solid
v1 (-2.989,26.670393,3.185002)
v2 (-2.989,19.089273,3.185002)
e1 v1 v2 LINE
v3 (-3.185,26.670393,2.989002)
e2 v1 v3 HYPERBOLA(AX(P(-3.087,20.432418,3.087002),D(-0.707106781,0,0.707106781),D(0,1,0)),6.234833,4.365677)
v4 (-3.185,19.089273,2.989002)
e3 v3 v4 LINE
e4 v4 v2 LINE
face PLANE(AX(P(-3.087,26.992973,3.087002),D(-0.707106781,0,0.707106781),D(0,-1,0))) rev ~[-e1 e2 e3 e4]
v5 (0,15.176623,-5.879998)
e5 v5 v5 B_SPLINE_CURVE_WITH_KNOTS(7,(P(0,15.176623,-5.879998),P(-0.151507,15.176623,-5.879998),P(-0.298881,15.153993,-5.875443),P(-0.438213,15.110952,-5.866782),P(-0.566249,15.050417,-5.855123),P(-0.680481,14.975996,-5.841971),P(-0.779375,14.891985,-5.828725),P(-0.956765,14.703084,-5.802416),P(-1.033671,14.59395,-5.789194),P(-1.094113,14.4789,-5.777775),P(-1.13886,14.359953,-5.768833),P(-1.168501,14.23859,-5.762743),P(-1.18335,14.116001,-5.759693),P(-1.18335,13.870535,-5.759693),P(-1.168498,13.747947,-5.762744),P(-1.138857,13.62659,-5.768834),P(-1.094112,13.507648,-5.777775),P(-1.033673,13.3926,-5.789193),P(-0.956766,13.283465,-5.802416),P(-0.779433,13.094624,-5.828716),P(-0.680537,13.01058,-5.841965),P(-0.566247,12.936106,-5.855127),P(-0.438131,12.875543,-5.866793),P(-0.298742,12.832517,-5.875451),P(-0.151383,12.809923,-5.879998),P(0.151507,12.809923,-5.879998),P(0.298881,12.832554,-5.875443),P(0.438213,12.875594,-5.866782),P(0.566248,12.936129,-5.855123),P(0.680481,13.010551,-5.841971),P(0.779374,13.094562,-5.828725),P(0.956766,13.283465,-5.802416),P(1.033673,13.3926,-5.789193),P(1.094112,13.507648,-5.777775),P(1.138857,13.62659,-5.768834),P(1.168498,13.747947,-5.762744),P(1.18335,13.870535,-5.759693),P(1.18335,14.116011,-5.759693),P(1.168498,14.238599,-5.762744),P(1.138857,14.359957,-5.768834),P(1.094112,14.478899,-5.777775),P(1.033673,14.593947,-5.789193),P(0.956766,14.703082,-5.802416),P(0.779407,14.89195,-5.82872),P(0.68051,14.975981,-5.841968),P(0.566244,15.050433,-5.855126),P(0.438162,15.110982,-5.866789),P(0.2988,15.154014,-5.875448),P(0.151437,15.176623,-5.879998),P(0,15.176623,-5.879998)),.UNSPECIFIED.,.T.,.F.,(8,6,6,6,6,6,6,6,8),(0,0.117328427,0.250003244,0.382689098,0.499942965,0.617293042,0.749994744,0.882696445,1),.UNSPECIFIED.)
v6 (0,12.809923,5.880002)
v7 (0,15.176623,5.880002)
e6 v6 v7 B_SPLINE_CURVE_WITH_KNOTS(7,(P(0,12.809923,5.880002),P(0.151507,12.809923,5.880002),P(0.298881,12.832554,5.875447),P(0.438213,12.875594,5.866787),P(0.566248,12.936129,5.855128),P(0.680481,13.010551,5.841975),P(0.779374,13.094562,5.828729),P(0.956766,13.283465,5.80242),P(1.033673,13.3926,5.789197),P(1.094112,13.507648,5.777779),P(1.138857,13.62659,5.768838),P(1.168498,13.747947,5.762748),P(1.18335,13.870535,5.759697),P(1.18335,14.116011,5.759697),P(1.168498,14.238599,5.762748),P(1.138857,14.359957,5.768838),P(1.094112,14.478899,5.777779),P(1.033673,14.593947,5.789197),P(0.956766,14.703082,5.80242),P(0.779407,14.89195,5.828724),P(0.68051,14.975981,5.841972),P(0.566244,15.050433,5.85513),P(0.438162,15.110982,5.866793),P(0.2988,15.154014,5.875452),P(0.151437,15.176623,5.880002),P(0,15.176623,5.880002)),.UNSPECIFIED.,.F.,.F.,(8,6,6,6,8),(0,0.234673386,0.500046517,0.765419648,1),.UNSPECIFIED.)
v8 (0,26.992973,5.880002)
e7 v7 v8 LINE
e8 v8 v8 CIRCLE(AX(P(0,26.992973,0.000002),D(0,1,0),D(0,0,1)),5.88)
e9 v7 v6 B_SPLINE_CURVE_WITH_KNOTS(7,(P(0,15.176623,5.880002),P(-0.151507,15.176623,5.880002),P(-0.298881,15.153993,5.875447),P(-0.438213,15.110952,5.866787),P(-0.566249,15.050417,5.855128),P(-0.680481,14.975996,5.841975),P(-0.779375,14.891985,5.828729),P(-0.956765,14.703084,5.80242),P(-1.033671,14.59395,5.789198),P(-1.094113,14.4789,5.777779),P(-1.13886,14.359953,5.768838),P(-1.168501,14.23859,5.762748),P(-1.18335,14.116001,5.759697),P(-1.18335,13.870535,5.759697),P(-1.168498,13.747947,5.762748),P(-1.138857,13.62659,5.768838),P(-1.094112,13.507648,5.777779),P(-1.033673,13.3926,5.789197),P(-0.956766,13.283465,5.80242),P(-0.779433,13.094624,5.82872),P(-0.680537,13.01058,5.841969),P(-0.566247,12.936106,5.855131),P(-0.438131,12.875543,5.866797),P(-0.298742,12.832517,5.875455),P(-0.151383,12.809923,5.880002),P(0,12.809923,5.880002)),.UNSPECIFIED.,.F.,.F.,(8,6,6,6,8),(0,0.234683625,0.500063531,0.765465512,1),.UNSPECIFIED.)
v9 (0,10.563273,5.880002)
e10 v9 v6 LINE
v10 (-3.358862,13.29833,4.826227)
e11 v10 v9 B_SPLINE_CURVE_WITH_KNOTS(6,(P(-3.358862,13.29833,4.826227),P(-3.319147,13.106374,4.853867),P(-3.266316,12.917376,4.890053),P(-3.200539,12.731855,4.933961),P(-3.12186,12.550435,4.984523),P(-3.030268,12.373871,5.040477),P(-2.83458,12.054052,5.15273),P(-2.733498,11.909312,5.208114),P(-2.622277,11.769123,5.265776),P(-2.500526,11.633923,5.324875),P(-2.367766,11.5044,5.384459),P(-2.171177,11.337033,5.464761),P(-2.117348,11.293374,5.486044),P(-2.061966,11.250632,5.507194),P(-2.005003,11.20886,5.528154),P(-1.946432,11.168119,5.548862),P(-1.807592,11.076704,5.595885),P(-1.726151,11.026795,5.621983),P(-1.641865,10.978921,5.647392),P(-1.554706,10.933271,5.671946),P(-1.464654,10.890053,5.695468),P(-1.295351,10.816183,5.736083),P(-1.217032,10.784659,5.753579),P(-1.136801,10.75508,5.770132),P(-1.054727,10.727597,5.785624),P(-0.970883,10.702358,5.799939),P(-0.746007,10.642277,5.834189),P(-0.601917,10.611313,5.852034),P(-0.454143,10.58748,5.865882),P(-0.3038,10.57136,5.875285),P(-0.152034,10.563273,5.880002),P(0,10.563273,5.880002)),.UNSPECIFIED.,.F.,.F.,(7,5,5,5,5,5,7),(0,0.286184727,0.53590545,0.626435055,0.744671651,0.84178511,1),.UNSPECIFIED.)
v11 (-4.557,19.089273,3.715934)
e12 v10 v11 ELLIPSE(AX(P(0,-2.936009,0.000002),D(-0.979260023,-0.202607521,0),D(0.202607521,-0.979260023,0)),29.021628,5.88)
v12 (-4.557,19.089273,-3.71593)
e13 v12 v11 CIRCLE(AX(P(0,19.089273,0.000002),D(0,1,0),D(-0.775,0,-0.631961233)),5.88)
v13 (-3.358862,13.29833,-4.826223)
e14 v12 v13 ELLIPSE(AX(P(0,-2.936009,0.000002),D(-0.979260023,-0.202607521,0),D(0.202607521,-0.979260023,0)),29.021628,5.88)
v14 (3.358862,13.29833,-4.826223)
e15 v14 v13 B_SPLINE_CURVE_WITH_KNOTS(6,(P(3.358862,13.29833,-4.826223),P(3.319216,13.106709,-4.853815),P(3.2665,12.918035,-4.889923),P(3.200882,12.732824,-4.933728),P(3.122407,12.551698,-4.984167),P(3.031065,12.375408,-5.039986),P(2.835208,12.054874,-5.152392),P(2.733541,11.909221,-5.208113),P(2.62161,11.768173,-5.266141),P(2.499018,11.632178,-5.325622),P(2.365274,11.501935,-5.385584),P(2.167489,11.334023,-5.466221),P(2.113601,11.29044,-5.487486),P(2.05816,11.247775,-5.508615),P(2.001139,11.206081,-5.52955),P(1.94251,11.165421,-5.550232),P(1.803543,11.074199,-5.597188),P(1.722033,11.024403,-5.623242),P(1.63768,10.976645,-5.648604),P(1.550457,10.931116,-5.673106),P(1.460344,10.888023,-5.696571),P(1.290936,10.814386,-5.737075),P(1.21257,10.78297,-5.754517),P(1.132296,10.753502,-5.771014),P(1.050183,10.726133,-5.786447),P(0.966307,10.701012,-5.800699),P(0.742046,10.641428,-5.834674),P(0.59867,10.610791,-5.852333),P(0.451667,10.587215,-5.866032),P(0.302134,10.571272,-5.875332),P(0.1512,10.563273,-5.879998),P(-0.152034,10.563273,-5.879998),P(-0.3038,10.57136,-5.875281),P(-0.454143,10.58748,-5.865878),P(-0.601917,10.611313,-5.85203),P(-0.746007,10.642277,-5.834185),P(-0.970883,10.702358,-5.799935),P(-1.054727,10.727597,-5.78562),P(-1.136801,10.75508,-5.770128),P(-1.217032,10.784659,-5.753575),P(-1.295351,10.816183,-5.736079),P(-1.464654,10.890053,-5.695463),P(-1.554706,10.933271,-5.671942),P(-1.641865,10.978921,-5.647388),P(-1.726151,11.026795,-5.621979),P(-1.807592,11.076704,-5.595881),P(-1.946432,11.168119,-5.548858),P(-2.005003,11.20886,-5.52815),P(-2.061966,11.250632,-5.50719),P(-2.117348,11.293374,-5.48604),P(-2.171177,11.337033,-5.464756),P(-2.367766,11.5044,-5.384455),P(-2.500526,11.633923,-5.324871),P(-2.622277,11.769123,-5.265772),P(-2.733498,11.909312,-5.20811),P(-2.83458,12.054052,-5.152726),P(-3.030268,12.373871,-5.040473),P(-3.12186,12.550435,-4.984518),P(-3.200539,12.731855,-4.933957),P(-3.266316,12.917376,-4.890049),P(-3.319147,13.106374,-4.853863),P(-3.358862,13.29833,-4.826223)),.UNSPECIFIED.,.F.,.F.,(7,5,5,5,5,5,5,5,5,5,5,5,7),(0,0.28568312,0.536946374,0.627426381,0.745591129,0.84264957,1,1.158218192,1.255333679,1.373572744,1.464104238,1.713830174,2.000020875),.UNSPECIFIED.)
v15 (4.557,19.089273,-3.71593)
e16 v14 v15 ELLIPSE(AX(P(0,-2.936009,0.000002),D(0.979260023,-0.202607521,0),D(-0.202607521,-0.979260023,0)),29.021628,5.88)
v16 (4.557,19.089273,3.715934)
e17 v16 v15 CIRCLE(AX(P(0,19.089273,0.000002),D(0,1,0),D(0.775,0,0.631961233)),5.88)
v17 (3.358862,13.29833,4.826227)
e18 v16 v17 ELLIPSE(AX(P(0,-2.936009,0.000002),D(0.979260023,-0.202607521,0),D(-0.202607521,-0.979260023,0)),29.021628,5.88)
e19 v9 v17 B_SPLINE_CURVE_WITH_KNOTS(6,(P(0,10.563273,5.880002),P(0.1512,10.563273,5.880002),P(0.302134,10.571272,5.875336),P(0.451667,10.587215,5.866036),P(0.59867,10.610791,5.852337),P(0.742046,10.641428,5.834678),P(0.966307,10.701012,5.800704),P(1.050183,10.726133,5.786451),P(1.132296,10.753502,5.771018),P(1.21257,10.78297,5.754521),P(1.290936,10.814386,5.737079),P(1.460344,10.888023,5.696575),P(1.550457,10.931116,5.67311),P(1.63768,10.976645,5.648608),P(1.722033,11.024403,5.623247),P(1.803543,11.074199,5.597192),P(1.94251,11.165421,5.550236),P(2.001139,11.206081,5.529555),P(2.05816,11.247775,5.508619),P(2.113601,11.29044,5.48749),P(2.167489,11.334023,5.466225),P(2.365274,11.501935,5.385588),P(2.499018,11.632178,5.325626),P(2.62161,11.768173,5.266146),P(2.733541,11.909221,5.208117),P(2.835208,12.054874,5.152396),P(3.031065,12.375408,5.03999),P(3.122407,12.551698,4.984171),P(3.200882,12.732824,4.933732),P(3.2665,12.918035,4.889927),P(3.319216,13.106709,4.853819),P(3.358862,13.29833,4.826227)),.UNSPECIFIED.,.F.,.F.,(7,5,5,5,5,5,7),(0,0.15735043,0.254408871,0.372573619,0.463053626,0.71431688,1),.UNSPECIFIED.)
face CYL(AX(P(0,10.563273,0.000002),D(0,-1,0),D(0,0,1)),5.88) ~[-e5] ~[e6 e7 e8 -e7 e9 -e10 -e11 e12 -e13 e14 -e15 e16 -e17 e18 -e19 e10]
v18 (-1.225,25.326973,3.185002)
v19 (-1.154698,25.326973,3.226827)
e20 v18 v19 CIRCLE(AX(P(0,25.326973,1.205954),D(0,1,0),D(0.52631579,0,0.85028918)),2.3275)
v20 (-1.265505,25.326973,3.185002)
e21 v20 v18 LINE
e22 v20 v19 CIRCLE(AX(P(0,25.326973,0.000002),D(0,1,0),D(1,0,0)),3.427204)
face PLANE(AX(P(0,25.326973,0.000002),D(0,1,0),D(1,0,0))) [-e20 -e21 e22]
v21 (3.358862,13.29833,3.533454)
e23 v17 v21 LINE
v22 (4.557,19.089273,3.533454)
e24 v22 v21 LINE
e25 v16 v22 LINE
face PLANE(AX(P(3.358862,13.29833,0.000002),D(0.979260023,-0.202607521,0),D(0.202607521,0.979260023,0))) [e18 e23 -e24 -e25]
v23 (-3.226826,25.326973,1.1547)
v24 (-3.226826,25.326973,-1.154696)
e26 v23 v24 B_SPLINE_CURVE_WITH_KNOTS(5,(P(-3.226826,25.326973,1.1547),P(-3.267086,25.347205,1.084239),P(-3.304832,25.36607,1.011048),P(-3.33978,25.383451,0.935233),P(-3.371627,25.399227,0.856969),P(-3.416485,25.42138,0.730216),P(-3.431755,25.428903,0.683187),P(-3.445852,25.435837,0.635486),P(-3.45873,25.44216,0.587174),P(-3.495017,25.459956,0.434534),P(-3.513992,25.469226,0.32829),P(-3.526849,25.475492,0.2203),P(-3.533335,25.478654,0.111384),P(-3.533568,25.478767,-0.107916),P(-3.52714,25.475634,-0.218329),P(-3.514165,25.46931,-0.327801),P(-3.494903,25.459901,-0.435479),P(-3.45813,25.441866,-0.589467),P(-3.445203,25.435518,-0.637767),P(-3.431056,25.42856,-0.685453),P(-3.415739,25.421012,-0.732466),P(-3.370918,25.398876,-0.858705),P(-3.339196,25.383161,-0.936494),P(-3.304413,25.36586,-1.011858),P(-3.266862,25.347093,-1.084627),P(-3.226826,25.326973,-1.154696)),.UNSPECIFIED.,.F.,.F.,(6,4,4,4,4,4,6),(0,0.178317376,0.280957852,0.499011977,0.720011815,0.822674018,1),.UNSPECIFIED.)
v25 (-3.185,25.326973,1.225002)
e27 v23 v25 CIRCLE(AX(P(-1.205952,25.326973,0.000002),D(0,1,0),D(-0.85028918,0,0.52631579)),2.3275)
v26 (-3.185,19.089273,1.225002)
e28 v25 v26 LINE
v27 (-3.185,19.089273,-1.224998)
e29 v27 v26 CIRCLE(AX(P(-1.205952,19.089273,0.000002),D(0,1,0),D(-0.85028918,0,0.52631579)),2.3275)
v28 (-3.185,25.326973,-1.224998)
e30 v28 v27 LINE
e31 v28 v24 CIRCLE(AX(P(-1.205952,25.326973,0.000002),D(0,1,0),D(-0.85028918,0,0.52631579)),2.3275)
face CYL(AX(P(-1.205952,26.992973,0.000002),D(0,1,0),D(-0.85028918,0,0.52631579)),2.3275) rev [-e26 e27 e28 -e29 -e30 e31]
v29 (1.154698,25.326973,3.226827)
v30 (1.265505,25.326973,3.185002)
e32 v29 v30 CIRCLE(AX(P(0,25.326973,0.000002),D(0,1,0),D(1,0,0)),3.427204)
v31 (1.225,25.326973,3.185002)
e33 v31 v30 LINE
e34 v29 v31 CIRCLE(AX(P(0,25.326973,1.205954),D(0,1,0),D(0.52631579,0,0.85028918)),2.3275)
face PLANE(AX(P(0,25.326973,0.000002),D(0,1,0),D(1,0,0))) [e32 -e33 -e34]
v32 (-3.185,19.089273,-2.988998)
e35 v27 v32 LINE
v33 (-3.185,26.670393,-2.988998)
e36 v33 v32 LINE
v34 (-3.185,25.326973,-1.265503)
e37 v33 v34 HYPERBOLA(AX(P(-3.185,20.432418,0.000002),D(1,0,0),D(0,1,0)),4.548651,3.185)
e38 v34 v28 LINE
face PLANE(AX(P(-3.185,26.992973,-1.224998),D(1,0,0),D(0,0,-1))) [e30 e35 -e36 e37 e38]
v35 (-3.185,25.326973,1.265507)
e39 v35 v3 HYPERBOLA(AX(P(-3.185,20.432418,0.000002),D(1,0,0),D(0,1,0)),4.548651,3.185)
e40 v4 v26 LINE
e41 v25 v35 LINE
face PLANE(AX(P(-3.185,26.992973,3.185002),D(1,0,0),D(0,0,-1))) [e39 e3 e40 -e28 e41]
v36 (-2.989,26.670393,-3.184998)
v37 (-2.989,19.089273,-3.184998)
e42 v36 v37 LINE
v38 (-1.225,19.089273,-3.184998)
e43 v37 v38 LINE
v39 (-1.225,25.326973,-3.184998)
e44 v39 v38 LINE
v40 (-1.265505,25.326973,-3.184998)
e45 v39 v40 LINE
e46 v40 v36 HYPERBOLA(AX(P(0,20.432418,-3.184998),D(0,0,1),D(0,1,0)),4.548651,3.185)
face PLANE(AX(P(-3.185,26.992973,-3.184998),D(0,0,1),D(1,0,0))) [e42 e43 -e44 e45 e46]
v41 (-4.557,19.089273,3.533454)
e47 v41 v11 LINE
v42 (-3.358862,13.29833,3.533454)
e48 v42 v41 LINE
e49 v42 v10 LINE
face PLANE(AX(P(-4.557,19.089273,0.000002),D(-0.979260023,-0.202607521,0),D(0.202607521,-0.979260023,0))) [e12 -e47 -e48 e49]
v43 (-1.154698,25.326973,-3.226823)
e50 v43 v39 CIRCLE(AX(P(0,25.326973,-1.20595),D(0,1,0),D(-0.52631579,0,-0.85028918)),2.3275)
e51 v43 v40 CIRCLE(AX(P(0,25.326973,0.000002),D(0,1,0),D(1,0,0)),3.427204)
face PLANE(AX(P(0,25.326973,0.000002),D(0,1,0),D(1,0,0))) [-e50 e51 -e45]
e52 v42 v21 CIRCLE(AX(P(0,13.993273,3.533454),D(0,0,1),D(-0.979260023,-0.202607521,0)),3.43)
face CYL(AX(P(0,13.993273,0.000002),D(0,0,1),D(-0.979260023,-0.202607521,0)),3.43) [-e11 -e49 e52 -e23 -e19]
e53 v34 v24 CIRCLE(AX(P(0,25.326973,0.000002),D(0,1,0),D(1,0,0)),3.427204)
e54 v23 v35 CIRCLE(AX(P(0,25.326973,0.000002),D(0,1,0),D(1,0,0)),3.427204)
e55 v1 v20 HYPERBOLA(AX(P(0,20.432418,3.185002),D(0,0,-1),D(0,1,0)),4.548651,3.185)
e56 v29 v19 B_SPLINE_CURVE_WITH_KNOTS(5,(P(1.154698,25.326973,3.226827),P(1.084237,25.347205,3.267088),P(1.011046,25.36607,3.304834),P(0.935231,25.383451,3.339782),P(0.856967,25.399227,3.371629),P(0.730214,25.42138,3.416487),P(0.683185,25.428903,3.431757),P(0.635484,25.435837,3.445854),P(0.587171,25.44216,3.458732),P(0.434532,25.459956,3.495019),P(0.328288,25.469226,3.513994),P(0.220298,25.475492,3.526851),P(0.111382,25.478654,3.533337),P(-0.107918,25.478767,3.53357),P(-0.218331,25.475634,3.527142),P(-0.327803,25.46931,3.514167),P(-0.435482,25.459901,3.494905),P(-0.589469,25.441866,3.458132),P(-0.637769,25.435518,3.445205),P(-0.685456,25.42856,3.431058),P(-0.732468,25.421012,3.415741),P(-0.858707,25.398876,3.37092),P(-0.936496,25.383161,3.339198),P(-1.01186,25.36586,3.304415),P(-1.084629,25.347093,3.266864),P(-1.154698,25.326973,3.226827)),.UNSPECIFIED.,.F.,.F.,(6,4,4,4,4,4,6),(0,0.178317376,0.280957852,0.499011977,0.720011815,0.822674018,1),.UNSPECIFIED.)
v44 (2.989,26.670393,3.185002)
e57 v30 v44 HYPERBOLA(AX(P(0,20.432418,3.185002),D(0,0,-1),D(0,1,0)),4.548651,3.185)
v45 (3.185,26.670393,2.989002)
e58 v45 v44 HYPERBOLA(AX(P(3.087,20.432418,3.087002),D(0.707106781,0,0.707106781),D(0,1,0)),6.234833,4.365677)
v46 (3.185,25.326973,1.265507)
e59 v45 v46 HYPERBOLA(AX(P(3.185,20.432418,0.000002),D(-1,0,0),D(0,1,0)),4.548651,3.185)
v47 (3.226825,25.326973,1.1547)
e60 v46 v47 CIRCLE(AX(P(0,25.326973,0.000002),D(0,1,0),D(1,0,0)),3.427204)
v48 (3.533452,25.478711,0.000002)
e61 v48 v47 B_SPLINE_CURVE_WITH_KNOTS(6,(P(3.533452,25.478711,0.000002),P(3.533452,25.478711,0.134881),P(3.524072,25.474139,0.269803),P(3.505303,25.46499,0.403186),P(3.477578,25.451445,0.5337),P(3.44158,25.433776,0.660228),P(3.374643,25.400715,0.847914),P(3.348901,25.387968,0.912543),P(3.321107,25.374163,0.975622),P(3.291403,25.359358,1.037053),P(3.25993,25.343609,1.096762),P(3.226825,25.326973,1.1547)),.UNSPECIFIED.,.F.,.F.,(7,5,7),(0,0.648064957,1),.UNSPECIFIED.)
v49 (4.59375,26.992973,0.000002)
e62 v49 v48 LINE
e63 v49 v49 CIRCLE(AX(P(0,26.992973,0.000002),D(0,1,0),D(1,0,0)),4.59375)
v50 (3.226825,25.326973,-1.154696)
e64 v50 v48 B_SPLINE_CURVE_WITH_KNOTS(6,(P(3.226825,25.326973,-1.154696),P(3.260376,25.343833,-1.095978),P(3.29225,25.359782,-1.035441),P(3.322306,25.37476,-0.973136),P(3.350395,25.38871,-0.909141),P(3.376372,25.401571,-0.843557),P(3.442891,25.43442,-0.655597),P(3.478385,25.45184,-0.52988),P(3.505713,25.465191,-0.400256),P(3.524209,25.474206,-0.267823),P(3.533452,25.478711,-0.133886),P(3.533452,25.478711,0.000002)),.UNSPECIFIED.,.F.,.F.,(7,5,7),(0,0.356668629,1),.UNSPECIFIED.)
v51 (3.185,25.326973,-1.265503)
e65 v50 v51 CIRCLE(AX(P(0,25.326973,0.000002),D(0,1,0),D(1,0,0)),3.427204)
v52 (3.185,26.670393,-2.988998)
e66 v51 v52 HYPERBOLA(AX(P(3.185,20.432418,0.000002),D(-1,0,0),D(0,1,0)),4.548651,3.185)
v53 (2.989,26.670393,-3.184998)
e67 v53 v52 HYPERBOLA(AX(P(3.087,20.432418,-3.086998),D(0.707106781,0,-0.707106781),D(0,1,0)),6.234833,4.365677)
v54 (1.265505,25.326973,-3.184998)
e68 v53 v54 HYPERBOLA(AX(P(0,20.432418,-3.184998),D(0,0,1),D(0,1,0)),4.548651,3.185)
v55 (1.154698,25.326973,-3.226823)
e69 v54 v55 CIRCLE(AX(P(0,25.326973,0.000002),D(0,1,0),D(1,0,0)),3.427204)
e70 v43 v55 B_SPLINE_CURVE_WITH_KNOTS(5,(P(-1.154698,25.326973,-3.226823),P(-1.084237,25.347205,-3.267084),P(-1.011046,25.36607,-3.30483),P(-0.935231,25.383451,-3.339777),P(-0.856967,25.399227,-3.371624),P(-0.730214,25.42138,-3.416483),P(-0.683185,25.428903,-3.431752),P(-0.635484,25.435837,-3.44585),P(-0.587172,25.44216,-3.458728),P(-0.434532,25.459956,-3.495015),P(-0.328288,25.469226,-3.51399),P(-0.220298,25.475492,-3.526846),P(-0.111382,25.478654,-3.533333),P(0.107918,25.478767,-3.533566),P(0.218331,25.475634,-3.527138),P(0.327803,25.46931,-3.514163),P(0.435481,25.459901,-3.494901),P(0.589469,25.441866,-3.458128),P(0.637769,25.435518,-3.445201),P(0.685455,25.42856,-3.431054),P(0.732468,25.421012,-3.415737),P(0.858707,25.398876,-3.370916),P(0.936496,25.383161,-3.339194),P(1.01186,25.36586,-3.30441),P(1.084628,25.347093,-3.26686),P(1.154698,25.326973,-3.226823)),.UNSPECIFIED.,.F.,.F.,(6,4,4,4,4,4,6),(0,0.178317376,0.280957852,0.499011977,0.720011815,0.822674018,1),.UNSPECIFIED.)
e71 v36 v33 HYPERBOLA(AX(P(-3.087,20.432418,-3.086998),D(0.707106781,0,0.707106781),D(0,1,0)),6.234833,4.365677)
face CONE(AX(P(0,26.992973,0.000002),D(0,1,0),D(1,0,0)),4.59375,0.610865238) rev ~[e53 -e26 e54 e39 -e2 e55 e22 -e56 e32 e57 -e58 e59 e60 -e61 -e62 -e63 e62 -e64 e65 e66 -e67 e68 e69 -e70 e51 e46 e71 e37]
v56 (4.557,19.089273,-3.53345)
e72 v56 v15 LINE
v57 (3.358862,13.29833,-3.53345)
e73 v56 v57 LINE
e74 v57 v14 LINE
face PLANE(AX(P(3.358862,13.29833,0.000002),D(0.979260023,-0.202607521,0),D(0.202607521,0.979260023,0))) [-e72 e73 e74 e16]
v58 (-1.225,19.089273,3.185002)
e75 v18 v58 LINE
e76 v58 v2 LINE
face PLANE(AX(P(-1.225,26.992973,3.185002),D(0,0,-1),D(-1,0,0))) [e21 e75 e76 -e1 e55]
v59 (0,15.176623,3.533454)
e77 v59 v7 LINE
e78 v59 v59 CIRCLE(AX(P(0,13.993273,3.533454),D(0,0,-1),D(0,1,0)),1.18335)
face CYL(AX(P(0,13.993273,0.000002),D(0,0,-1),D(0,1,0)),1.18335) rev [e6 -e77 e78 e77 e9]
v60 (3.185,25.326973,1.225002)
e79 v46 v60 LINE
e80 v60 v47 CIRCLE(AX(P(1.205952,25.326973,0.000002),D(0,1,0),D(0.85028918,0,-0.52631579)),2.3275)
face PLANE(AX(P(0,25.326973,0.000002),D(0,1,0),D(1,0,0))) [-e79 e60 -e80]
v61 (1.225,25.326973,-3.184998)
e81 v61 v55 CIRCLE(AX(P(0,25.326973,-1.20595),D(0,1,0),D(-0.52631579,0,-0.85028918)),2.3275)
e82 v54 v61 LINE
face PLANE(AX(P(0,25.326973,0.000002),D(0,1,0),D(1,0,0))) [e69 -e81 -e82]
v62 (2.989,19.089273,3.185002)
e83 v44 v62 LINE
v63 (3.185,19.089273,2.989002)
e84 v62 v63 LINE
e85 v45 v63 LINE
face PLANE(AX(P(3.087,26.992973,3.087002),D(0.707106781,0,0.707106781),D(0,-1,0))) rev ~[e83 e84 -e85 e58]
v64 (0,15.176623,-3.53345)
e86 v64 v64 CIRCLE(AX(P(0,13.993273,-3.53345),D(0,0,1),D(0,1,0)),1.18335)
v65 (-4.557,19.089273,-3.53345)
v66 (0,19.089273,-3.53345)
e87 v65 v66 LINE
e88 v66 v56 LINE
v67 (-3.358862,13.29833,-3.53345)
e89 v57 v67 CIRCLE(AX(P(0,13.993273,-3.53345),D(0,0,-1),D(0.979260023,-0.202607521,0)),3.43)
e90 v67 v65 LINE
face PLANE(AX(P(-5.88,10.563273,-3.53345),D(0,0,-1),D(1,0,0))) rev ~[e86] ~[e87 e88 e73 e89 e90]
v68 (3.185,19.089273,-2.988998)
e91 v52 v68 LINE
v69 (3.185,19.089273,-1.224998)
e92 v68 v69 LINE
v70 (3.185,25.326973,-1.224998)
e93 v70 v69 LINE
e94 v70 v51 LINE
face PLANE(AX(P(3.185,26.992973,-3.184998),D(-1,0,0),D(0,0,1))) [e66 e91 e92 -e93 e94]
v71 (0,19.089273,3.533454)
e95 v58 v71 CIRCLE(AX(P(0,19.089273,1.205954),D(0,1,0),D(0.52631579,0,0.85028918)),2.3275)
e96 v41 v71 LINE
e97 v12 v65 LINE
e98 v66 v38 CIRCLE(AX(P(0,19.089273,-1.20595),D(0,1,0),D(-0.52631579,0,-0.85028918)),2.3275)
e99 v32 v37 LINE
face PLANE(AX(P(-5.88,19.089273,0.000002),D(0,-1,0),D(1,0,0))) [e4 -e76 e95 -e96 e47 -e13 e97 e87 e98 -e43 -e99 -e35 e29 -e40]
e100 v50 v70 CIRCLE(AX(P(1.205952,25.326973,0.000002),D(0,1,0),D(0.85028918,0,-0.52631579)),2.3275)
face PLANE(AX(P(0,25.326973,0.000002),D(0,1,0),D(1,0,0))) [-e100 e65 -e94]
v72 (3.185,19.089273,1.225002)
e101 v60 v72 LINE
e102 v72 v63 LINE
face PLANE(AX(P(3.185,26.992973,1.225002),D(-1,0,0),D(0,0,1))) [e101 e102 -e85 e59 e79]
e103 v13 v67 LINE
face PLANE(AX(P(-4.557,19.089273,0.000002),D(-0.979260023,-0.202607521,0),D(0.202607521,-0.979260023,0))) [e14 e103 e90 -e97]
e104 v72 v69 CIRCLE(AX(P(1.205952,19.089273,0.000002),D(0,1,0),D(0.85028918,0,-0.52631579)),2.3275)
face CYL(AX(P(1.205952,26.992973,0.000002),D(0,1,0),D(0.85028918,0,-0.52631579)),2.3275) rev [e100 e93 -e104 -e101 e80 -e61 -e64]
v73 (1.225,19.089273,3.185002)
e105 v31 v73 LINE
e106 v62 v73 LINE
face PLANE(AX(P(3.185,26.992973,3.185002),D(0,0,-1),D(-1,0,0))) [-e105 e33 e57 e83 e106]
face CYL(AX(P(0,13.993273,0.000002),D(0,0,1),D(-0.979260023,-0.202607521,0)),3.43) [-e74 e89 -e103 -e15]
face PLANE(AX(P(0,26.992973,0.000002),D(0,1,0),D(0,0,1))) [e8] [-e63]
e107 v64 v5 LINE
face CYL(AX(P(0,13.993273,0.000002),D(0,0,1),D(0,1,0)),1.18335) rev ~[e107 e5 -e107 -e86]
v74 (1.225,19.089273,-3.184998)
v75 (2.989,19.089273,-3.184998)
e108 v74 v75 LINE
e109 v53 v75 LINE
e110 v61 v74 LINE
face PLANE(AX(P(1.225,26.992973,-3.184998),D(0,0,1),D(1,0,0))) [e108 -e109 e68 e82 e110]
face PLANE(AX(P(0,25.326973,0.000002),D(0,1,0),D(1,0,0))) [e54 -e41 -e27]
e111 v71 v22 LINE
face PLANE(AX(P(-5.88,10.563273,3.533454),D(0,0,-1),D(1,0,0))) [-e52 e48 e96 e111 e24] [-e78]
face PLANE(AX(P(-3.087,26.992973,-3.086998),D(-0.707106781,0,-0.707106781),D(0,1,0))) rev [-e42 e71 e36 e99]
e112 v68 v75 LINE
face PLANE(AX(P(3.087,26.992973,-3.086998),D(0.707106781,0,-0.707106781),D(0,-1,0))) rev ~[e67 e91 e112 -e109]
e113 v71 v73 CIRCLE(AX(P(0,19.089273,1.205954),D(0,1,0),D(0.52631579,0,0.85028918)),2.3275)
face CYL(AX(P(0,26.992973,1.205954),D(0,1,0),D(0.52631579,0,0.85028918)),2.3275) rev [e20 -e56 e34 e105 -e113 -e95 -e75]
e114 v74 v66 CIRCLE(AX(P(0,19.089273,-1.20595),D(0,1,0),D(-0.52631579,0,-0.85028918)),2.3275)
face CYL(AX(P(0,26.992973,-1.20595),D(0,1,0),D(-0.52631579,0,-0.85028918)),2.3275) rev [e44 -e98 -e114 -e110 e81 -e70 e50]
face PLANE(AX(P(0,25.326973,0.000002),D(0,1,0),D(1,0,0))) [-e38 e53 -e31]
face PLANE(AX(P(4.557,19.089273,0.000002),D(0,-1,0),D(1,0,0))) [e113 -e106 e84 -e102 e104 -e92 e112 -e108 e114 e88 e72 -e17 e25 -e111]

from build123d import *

# Parameters (mm, degrees)
SKETCH1_R           = 12
BOSS_EXTRUDE1_DEPTH = 33.53
CUT_EXTRUDE1_DEPTH  = 19.6
CHAMFER1_SIZE       = 0.4
SKETCH3_R           = 9.375
CUT_EXTRUDE2_DEPTH  = 3.4
CUT_EXTRUDE2_DRAFT  = -35
SKETCH4_W           = 24
SKETCH4_H           = 14.42225279
CUT_EXTRUDE3_DEPTH  = 17.4
SKETCH5_R           = 2.415
CUT_EXTRUDE4_DEPTH  = 33.7
SCALE1_SCALE        = 0.49


with BuildPart() as part:
    # Sketch1 → Boss-Extrude1 (new body)
    with BuildSketch(Plane(origin=(0, 0, 0), x_dir=(1, 0, 0), z_dir=(0, 1, 0))):
        with Locations(Location((0, 0, 0), (0, 0, 270))):
            Circle(SKETCH1_R)
    extrude(amount=BOSS_EXTRUDE1_DEPTH)

    # Sketch2 → Cut-Extrude1 (cut)
    with BuildSketch(Plane(origin=(0, 33.53, 0), x_dir=(1, 0, 0), z_dir=(0, 1, 0))):
        with BuildLine():
            Line((-6.5, 6.5), (-2.5, 6.5))
            ThreePointArc((-2.5, 6.5), (0, 7.211126395), (2.5, 6.5))
            Line((2.5, 6.5), (6.5, 6.5))
            Line((6.5, 6.5), (6.5, 2.5))
            ThreePointArc((6.5, 2.5), (7.211126395, 0), (6.5, -2.5))
            Line((6.5, -2.5), (6.5, -6.5))
            Line((6.5, -6.5), (2.5, -6.5))
            ThreePointArc((2.5, -6.5), (0, -7.211126395), (-2.5, -6.5))
            Line((-2.5, -6.5), (-6.5, -6.5))
            Line((-6.5, -6.5), (-6.5, -2.5))
            ThreePointArc((-6.5, -2.5), (-7.211126395, 0), (-6.5, 2.5))
            Line((-6.5, 2.5), (-6.5, 6.5))
        make_face()
    extrude(amount=-CUT_EXTRUDE1_DEPTH, mode=Mode.SUBTRACT)

    # Chamfer1
    chamfer1_edges = [part.edges().sort_by_distance(p)[0] for p in [
        (-6.5, 23.73, -6.5),
        (6.5, 23.73, -6.5),
        (6.5, 23.73, 6.5),
        (-6.5, 23.73, 6.5),
    ]]
    chamfer(chamfer1_edges, length=CHAMFER1_SIZE)


with BuildPart() as cut_extrude2_tool:
    # Sketch3 → Cut-Extrude2 (with draft: the straight prism first)
    with BuildSketch(Plane(origin=(0, 33.53, 0), x_dir=(1, 0, 0), z_dir=(0, 1, 0))):
        Circle(SKETCH3_R)
    extrude(amount=-CUT_EXTRUDE2_DEPTH)
    # Cut-Extrude2: the draft: its side faces are tilted about the plane it starts from
    cut_extrude2_sides = [cut_extrude2_tool.faces().sort_by_distance(p)[0] for p in [
        (-9.375, 31.83, 0),
    ]]
    draft(cut_extrude2_sides, Plane(origin=(0, 33.53, 0), x_dir=(1, 0, 0), z_dir=(0, 1, 0)), CUT_EXTRUDE2_DRAFT)


with BuildPart() as part_1:
    add(part.part)

    # Cut-Extrude2: cut by cut_extrude2_tool
    add(cut_extrude2_tool.part, mode=Mode.SUBTRACT)

    # Sketch4 → Cut-Extrude3 (cut)
    with BuildSketch(Plane.XZ):
        Rectangle(SKETCH4_W, SKETCH4_H)
    extrude(amount=-CUT_EXTRUDE3_DEPTH, mode=Mode.SUBTRACT)

    # Sketch5 → Cut-Extrude4 (cut, symmetric)
    with BuildSketch(Plane.XY):
        with Locations(Location((0, 7, 0), (0, 0, 90))):
            Circle(SKETCH5_R)
        with BuildLine():
            ThreePointArc((-6.854820161, 5.581747356), (0, 0), (6.854820161, 5.581747356))
            Line((6.854820161, 5.581747356), (9.3, 17.4))
            Line((9.3, 17.4), (12, 17.4))
            Line((12, 17.4), (12, -3.192277431))
            Line((12, -3.192277431), (-12, -3.192277431))
            Line((-12, -3.192277431), (-12, 17.4))
            Line((-12, 17.4), (-9.3, 17.4))
            Line((-9.3, 17.4), (-6.854820161, 5.581747356))
        make_face()
    extrude(amount=CUT_EXTRUDE4_DEPTH, both=True, mode=Mode.SUBTRACT)


with BuildPart() as part_2:
    # Scale1: scaled about (-1.86e-07, 20.712300737, 4.053e-06)
    add(part_1.part.scale(SCALE1_SCALE).moved(Location((-9.5e-08, 10.563273376, 2.067e-06))))


solid = part_2.part
